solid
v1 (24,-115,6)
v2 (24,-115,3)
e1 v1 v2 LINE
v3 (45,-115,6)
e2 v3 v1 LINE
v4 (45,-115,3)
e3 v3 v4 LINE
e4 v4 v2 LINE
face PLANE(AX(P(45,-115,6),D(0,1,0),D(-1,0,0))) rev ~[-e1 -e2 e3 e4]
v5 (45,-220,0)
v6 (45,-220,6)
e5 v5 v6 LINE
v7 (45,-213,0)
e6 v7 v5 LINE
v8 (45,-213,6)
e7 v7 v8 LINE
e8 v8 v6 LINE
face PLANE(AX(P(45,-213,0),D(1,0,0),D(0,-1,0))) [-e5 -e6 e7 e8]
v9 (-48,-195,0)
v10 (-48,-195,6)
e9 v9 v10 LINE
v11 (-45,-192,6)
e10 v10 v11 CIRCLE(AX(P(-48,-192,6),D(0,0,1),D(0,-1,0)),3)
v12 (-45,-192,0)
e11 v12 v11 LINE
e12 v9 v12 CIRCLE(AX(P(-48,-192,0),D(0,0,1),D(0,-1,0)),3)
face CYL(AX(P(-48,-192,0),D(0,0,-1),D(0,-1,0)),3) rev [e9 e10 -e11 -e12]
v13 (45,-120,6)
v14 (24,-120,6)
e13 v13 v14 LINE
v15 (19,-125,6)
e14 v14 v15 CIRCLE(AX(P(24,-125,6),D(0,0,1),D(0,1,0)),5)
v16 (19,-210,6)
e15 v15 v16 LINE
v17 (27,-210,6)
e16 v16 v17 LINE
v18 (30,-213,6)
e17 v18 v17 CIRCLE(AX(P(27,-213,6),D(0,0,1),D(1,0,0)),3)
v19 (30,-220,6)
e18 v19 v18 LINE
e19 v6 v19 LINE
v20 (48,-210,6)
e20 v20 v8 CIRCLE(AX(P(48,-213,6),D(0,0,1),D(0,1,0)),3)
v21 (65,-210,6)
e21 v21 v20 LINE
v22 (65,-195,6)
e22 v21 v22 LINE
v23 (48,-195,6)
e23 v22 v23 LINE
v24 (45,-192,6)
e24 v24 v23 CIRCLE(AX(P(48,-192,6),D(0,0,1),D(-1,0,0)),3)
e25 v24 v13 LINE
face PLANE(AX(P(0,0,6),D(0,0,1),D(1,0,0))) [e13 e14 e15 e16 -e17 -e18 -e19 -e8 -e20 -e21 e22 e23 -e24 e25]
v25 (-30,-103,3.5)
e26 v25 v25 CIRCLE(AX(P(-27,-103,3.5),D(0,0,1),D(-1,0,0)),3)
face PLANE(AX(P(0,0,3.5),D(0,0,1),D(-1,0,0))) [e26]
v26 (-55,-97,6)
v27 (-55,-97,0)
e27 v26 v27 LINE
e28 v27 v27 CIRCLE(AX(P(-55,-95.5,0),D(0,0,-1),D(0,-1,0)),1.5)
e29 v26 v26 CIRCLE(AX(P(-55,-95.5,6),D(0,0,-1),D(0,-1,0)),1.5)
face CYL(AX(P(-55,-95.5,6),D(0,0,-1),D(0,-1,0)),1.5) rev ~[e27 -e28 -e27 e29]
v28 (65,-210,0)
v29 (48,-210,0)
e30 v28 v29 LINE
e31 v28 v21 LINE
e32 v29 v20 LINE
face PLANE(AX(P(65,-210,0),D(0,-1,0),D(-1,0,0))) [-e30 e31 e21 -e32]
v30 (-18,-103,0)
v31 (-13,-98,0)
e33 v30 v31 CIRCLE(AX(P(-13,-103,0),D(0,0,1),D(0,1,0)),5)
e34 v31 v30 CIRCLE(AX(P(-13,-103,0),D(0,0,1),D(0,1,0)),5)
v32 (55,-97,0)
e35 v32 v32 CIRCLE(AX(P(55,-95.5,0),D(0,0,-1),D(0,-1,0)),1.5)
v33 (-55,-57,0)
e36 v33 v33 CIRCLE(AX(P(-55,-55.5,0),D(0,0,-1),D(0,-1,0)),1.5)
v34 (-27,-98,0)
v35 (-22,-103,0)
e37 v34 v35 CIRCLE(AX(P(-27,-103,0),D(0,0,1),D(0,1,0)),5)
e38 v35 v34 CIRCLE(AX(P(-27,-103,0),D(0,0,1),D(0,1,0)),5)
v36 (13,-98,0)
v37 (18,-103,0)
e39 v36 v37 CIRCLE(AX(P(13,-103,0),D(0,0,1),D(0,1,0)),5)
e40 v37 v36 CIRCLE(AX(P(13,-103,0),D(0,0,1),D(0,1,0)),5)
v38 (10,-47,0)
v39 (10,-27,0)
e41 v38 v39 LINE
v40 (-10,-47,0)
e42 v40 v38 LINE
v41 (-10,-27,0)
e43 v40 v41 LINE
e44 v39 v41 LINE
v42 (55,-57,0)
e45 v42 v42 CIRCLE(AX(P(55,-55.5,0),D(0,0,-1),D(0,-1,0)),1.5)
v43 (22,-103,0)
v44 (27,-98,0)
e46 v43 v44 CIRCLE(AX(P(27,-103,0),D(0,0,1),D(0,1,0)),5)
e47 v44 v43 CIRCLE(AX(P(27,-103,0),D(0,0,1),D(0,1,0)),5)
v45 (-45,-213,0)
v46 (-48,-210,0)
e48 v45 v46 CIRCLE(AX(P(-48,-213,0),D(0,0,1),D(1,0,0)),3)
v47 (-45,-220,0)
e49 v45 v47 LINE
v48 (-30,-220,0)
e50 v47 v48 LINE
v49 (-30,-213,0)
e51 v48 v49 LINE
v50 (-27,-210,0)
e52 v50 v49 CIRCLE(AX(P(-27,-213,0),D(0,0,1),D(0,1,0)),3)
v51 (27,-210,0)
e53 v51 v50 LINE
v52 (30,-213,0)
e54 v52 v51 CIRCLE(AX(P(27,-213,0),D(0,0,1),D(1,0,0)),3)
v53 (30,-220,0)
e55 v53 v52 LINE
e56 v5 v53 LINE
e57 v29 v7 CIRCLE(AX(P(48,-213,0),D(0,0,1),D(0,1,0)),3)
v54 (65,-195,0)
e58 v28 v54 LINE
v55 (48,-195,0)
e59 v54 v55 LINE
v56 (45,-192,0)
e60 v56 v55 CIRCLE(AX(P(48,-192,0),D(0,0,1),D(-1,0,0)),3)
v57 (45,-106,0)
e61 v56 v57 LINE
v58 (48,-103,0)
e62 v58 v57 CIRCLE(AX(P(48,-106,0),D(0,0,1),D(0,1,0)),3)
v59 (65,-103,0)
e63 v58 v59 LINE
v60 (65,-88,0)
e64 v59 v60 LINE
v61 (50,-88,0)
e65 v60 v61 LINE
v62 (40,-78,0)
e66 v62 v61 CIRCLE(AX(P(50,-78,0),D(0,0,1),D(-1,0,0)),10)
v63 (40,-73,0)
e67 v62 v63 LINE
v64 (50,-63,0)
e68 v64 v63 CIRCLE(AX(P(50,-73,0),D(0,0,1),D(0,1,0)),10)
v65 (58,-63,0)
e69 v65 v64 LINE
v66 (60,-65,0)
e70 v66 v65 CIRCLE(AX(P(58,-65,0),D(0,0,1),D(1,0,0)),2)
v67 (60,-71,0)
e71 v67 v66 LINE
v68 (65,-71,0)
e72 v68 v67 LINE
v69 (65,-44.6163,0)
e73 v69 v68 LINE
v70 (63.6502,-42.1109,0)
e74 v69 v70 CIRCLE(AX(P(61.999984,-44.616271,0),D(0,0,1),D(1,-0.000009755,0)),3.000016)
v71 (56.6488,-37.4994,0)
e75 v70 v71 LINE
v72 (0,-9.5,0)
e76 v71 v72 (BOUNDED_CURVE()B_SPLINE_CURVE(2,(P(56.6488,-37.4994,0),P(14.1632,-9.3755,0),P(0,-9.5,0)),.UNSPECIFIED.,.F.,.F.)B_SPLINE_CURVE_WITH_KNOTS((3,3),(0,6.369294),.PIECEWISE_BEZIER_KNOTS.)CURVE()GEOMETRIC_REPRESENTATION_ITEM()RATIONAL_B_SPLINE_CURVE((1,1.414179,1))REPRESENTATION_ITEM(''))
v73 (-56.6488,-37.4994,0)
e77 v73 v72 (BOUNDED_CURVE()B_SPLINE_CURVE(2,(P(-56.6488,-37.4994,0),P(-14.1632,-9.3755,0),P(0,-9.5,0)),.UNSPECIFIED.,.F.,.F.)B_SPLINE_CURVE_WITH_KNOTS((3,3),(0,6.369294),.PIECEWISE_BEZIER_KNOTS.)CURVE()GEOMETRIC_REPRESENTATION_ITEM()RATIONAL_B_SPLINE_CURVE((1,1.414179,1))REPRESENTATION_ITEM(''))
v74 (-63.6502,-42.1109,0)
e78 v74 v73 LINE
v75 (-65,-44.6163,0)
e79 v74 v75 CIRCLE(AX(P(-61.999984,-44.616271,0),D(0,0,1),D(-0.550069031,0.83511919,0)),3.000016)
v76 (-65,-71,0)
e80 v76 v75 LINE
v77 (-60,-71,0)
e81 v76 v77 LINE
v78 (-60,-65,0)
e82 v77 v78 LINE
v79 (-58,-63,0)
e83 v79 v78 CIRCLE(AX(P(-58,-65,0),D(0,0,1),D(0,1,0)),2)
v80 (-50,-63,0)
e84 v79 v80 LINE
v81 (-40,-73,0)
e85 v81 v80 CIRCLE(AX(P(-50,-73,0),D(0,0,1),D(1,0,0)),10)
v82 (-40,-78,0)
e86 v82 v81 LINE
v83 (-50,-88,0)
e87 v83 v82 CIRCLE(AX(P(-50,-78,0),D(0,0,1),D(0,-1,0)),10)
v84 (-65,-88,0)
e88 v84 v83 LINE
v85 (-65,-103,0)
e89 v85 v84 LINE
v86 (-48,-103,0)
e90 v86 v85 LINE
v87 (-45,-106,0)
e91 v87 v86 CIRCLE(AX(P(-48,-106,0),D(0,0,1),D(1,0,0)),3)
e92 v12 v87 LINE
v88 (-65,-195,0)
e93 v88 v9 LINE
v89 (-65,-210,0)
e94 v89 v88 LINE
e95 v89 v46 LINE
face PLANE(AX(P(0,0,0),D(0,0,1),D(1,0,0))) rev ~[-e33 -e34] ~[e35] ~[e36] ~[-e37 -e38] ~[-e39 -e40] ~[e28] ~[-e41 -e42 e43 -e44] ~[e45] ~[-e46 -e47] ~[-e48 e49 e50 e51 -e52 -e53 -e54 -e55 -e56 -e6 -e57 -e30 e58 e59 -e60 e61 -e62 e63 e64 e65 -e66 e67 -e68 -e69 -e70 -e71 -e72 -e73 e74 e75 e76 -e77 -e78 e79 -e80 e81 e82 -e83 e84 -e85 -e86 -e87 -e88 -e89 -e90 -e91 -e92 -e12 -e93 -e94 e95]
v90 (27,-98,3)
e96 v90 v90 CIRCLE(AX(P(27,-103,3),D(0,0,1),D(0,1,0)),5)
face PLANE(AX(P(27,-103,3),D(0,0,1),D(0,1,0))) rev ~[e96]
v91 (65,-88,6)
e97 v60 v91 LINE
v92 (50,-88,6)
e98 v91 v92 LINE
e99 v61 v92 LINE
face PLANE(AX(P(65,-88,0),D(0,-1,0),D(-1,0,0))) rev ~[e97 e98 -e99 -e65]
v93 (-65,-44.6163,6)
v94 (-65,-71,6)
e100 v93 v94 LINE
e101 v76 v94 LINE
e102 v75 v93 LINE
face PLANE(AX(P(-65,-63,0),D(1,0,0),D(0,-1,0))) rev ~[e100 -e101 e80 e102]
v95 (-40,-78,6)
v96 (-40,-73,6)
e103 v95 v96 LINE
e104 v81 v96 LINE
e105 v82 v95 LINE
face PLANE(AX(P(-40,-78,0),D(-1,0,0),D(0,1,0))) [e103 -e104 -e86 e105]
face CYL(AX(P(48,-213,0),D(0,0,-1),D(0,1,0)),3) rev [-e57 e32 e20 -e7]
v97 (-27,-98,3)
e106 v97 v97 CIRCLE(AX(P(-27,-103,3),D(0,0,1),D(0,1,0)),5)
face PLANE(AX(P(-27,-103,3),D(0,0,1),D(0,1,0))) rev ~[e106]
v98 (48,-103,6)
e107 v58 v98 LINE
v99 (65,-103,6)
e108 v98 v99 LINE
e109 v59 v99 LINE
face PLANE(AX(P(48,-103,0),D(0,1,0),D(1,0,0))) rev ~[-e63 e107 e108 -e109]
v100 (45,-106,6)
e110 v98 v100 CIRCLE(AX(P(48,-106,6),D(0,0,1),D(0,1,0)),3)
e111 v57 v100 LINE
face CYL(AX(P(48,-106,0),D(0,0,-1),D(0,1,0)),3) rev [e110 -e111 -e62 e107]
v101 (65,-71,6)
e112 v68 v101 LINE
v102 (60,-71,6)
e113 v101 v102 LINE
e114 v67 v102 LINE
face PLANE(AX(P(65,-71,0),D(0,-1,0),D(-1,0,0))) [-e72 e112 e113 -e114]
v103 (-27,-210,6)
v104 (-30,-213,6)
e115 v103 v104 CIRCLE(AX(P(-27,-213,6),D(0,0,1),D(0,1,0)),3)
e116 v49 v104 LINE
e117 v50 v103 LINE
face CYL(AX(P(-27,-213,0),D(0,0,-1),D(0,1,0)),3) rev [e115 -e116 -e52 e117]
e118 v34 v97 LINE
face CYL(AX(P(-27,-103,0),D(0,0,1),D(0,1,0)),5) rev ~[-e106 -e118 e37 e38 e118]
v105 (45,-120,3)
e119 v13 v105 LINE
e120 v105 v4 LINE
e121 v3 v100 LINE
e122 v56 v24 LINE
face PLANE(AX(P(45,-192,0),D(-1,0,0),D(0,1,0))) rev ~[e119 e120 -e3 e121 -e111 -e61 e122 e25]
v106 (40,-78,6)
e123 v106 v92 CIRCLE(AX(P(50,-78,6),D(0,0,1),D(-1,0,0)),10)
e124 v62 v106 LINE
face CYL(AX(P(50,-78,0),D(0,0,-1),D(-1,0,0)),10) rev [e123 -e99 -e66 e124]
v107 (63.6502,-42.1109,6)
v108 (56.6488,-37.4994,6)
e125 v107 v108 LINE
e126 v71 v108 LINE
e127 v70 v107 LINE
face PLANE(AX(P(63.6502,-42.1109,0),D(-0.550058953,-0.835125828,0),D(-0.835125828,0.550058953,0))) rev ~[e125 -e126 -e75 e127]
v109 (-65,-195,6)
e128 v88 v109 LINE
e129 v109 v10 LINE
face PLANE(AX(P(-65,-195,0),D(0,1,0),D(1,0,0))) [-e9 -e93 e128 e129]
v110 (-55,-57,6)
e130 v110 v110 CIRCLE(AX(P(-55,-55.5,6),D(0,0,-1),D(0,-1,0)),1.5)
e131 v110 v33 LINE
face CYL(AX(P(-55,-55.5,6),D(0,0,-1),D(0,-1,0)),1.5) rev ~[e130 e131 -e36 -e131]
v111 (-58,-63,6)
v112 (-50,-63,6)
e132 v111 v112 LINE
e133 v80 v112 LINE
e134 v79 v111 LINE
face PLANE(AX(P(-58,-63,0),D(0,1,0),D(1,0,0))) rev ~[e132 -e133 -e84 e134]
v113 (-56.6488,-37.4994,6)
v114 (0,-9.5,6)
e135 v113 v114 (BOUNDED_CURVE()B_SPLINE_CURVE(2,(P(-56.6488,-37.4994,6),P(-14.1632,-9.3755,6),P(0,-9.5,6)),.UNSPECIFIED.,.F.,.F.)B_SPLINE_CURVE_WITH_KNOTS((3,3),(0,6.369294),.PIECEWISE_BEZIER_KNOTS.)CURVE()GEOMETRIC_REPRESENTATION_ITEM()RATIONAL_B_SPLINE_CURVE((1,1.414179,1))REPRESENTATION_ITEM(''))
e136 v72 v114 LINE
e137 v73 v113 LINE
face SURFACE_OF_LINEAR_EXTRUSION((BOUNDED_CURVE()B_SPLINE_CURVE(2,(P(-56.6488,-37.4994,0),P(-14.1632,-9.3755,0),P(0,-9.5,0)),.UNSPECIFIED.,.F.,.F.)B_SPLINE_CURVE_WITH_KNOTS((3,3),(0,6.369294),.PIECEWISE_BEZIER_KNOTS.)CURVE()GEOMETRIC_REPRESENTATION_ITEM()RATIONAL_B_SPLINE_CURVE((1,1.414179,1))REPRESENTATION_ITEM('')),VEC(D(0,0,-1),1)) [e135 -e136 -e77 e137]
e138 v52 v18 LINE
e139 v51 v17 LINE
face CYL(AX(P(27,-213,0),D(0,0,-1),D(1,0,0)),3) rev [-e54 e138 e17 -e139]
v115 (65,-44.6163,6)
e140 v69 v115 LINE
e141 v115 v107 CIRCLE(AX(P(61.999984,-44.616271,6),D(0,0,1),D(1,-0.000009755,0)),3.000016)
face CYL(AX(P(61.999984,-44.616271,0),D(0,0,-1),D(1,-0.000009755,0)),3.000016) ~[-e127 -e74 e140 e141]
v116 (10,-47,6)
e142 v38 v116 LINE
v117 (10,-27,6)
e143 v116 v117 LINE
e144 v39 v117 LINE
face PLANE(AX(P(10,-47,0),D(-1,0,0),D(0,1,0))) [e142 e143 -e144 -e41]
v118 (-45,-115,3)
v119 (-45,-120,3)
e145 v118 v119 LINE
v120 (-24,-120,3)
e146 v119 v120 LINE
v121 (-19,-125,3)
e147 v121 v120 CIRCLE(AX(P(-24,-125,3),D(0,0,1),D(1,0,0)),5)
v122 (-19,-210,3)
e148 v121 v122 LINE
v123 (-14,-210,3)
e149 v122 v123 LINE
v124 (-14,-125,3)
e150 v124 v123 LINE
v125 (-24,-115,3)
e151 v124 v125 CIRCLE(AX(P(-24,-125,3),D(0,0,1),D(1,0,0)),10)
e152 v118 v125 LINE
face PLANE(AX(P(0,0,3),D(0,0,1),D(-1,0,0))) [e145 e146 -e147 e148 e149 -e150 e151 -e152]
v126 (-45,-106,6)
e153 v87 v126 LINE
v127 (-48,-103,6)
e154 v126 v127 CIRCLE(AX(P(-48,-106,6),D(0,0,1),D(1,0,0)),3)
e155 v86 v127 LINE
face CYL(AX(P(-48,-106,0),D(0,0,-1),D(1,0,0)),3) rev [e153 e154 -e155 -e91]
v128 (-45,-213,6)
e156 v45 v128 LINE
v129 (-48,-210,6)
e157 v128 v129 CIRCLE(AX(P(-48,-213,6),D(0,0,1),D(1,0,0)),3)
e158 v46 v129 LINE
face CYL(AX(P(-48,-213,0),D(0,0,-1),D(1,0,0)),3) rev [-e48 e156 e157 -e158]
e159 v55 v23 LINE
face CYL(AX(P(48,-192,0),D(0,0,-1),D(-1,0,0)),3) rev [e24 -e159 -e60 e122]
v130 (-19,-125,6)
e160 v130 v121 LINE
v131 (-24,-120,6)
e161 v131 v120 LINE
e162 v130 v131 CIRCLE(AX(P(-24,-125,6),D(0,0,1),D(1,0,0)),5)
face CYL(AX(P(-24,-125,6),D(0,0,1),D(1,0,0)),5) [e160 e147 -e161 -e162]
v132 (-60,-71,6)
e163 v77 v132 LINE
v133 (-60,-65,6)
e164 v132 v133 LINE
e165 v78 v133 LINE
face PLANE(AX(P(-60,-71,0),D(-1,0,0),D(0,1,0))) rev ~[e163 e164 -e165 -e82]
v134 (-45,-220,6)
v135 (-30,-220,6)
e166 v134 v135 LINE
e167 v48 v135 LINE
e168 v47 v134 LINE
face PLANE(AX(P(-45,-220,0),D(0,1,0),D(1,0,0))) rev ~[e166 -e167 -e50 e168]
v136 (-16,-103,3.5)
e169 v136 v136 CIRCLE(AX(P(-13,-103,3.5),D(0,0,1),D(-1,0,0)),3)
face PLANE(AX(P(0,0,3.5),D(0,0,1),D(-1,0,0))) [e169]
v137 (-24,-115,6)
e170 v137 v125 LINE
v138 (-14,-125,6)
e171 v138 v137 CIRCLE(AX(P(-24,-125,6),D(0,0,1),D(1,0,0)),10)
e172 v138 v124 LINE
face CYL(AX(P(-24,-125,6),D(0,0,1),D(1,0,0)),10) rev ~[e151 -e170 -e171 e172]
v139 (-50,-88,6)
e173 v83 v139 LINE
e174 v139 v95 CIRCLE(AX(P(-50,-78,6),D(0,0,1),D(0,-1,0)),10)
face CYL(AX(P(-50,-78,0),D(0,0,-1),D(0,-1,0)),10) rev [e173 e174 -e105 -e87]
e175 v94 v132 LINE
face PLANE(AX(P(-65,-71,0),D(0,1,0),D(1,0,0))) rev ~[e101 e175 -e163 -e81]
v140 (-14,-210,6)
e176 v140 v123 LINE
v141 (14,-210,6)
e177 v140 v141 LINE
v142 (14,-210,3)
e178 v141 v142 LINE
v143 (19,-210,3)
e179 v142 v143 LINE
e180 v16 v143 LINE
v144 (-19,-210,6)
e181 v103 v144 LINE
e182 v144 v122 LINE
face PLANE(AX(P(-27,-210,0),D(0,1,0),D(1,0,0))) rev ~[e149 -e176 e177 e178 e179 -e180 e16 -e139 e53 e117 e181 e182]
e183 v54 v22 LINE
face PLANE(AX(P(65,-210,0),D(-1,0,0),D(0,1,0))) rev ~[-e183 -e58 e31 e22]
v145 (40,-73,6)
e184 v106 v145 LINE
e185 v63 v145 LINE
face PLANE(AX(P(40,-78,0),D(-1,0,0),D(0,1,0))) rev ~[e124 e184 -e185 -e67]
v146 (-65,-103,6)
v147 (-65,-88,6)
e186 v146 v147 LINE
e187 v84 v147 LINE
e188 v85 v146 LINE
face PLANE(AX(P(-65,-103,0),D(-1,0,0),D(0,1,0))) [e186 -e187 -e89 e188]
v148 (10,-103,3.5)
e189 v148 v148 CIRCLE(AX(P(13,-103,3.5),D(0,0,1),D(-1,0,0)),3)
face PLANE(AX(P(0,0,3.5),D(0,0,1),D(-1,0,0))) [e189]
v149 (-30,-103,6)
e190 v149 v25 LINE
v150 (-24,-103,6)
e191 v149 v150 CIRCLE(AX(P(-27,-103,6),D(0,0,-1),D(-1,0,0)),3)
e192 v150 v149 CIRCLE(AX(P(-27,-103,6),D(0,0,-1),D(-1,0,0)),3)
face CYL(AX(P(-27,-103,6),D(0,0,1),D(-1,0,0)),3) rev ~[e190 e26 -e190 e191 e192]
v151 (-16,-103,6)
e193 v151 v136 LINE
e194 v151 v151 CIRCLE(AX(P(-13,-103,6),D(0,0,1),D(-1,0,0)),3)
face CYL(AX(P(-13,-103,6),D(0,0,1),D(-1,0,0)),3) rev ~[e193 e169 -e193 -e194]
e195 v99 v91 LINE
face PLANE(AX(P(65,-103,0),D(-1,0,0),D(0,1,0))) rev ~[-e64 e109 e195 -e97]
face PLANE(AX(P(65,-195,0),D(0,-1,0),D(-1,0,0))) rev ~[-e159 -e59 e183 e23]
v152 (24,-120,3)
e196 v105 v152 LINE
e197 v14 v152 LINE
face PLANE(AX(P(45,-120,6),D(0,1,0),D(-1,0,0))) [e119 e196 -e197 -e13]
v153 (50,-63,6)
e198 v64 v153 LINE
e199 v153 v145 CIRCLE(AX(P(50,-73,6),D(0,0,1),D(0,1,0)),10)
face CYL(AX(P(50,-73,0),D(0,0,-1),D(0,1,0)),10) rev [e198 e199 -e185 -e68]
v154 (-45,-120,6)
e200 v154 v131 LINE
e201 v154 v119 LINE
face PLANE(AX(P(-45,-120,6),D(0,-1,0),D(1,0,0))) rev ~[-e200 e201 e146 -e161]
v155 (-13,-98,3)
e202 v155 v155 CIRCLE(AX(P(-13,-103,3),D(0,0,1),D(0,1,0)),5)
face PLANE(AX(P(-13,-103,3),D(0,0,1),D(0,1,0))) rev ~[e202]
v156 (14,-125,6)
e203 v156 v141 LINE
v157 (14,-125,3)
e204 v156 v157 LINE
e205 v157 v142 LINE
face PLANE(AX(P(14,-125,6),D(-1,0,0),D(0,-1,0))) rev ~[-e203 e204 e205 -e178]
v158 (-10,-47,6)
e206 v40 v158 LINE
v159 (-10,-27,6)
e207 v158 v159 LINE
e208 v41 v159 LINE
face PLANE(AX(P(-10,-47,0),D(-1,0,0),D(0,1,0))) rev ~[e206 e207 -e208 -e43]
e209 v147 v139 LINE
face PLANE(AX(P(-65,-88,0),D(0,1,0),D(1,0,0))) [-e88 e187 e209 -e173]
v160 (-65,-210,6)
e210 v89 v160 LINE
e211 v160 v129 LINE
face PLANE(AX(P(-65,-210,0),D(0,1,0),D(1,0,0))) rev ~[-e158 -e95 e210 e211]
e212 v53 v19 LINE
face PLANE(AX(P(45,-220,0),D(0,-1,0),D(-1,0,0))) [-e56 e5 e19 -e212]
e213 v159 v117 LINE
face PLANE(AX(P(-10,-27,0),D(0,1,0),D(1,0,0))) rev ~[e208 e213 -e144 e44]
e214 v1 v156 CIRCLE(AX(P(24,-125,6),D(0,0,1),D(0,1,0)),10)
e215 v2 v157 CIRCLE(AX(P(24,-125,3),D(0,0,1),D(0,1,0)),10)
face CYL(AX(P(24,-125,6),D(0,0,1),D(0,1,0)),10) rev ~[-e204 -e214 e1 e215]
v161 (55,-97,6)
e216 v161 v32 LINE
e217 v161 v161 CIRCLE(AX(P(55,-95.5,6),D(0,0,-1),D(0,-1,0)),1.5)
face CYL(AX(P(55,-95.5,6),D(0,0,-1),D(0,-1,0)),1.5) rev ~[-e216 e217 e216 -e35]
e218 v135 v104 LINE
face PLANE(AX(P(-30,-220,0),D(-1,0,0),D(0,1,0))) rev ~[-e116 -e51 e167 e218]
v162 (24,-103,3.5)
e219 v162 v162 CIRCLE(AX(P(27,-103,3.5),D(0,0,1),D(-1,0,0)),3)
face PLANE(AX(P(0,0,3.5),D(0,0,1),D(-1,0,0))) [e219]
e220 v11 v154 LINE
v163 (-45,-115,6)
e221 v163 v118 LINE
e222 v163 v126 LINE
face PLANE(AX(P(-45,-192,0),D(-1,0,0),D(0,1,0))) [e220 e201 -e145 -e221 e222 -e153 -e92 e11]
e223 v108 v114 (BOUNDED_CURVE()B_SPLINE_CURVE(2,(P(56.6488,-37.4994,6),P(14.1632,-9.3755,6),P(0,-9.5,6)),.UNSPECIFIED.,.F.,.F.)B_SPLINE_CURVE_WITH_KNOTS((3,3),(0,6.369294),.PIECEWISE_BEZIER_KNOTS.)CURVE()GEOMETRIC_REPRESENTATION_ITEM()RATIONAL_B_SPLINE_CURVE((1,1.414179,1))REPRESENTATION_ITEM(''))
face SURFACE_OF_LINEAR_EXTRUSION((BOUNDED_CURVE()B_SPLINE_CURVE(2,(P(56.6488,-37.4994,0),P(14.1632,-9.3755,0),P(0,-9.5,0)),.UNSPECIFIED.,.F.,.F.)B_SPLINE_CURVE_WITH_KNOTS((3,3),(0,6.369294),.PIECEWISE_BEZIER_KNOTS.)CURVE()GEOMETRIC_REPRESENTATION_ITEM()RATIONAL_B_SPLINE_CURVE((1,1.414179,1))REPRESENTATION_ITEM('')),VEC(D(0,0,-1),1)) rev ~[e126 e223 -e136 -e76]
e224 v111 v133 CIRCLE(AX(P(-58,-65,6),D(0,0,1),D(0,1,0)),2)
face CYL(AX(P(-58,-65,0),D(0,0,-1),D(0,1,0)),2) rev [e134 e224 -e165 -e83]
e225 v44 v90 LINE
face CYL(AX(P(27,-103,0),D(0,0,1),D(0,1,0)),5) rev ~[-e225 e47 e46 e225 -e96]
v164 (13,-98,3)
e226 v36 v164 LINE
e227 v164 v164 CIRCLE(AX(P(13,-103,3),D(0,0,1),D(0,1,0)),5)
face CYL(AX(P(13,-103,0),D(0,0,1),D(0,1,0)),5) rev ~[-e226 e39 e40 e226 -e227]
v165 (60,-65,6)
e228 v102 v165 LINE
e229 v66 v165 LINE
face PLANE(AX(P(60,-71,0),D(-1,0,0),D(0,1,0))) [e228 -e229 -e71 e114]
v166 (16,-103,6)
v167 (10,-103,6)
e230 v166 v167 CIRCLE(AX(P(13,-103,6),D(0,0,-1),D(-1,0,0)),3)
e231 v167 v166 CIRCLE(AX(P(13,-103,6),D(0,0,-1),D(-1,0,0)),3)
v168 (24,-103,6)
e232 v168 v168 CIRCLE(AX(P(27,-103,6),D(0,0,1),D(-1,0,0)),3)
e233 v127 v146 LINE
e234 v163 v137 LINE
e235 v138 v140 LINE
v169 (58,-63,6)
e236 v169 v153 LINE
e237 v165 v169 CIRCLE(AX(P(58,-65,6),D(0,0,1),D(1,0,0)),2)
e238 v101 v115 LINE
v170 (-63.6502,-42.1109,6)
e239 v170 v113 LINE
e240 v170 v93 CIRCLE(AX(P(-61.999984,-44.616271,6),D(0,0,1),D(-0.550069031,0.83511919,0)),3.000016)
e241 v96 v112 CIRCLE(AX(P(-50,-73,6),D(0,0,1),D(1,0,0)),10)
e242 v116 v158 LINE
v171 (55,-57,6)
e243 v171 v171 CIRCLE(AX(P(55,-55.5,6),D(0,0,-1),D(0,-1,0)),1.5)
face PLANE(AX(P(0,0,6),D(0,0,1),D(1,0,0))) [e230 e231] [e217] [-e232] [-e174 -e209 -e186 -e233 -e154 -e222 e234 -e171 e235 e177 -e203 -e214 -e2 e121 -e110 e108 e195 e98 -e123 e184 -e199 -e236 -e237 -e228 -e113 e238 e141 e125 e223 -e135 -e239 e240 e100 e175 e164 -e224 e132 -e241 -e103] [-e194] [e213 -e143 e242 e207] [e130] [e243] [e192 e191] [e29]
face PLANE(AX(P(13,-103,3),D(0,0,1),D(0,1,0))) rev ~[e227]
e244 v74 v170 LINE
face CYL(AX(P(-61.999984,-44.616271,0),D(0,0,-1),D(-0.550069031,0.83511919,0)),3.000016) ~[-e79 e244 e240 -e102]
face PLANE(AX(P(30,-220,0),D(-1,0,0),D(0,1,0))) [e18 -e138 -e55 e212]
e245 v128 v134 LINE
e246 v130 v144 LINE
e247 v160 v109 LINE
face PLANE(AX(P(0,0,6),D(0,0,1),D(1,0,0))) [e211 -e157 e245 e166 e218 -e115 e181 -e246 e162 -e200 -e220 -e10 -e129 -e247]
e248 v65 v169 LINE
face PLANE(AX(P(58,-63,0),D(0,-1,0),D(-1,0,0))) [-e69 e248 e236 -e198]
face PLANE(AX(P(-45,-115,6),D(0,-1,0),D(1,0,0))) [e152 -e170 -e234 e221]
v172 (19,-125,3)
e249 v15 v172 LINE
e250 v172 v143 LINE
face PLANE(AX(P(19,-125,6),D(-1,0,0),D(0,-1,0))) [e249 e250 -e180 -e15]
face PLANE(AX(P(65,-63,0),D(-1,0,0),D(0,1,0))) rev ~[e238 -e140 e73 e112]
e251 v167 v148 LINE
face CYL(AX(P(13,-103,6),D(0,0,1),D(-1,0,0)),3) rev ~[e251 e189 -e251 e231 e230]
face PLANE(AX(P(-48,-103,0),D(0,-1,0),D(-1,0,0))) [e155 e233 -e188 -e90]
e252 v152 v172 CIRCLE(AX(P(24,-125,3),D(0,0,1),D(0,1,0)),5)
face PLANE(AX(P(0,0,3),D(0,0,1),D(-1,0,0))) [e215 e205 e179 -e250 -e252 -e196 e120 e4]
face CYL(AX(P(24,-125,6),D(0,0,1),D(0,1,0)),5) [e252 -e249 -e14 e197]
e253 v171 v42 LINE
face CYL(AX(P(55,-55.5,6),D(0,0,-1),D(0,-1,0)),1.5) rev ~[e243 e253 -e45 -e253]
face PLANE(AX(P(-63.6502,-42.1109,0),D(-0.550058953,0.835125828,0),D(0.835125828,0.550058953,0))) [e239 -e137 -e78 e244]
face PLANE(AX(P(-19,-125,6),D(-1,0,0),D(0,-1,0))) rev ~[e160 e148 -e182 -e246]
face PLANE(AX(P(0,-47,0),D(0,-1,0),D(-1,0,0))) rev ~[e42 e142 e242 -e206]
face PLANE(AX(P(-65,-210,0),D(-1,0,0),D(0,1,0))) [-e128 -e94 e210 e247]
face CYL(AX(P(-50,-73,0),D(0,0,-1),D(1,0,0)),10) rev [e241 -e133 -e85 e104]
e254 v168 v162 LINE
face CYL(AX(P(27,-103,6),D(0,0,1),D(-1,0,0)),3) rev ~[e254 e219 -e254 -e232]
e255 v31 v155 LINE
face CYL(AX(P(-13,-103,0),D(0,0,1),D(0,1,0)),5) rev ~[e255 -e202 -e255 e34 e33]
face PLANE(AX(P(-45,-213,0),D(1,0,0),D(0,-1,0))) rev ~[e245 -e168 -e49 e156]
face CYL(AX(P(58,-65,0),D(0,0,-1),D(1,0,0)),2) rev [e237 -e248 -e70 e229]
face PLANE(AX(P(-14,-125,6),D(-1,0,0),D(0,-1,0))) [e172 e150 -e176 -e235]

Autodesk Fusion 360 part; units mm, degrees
sketch "Sketch1" plane through (0, 0, 0) normal (0, 0, 1) x (1, 0, 0)
  line L0 (-65, -210) -> (-48, -210)
  line L1 (-45, -213) -> (-45, -220)
  line L2 (-45, -220) -> (-30, -220)
  line L3 (-30, -220) -> (-30, -213)
  line L4 (-27, -210) -> (0, -210)
  arc A0 (-45, -213) -> (-48, -210) centre (-48, -213) ccw
  arc A1 (-27, -210) -> (-30, -213) centre (-27, -213) ccw
  line L5 (-65, -210) -> (-65, -195)
  line L6 (-65, -195) -> (-48, -195)
  line L7 (-45, -192) -> (-45, -106)
  line L8 (-48, -103) -> (-65, -103)
  line L9 (-65, -103) -> (-65, -88)
  line L10 (-65, -88) -> (-50, -88)
  line L11 (-40, -78) -> (-40, -73)
  line L12 (-65, -63) -> (-65, -44.6163)
  arc A2 (-50, -88) -> (-40, -78) centre (-50, -78) ccw
  arc A3 (-40, -73) -> (-50, -63) centre (-50, -73) ccw
  arc A4 (-48, -195) -> (-45, -192) centre (-48, -192) ccw
  arc A5 (-45, -106) -> (-48, -103) centre (-48, -106) ccw
  line L13 (-65, -63) -> (-65, -71)
  line L14 (-65, -71) -> (-60, -71)
  line L15 (-60, -71) -> (-60, -65)
  line L16 (-58, -63) -> (-50, -63)
  arc A6 (-58, -63) -> (-60, -65) centre (-58, -65) ccw
  line L17 (-63.6502, -42.1109) -> (-56.6488, -37.4994)
  arc A7 (-63.6502, -42.1109) -> (-65, -44.6163) centre (-62, -44.6163) ccw
  line L18 (0, 0) -> (0, -252.3978) construction
  spline S0 degree 2 poles (-56.6488, -37.4994) (-14.1632, -9.3755) (0, -9.5) knots 0 0 0 6.369294 6.369294 6.369294 weights 1 1.414179 1
  line L19 (-10, -27) -> (0, -27)
  line L20 (0, -47) -> (-10, -47)
  line L21 (-10, -47) -> (-10, -27)
  circle A8 centre (-13, -103) radius 3
  circle A9 centre (-27, -103) radius 3
  line L22 (-13, -103) -> (-27, -103)
  line L23 (45, -220) -> (30, -220)
  line L24 (63.6502, -42.1109) -> (56.6488, -37.4994)
  line L25 (65, -210) -> (48, -210)
  line L26 (45, -192) -> (45, -106)
  line L27 (58, -63) -> (50, -63)
  line L28 (65, -88) -> (50, -88)
  line L29 (0, -47) -> (10, -47)
  line L30 (65, -71) -> (60, -71)
  arc A10 (48, -210) -> (45, -213) centre (48, -213) ccw
  line L31 (48, -103) -> (65, -103)
  arc A11 (50, -63) -> (40, -73) centre (50, -73) ccw
  line L32 (10, -27) -> (0, -27)
  line L33 (65, -63) -> (65, -71)
  line L34 (40, -78) -> (40, -73)
  arc A12 (60, -65) -> (58, -63) centre (58, -65) ccw
  line L35 (60, -71) -> (60, -65)
  spline S1 degree 2 poles (56.6488, -37.4994) (14.1632, -9.3755) (0, -9.5) knots 0 0 0 6.369294 6.369294 6.369294 weights 1 1.414179 1
  line L36 (65, -63) -> (65, -44.6163)
  circle A13 centre (27, -103) radius 3
  arc A14 (30, -213) -> (27, -210) centre (27, -213) ccw
  line L37 (13, -103) -> (27, -103)
  arc A15 (65, -44.6163) -> (63.6502, -42.1109) centre (62, -44.6163) ccw
  arc A16 (45, -192) -> (48, -195) centre (48, -192) ccw
  line L38 (65, -103) -> (65, -88)
  line L39 (30, -220) -> (30, -213)
  arc A17 (40, -78) -> (50, -88) centre (50, -78) ccw
  line L40 (27, -210) -> (0, -210)
  line L41 (10, -47) -> (10, -27)
  line L42 (45, -213) -> (45, -220)
  arc A18 (48, -103) -> (45, -106) centre (48, -106) ccw
  line L43 (65, -195) -> (48, -195)
  line L44 (65, -210) -> (65, -195)
  circle A19 centre (13, -103) radius 3
  point P0 (-45, -210)
  point P1 (-30, -210)
  point P2 (-45, -195)
  point P3 (-45, -103)
  point P4 (-40, -88)
  point P5 (-40, -63)
  point P6 (40, -63)
  point P7 (45, -103)
  point P8 (30, -210)
  point P9 (45, -195)
  point P10 (40, -88)
  point P11 (45, -210)
  dimension "d1" = 20
  dimension "d3" = 15
  dimension "d7" = 3
  dimension "d8" = 3
  dimension "d13" = 20
  dimension "d15" = 92
  dimension "d16" = 15
  dimension "d17" = 25
  dimension "d18" = 25
  dimension "d24" = 10
  dimension "d25" = 10
  dimension "d28" = 3
  dimension "d29" = 3
  dimension "d32" = 5
  dimension "d33" = 2
  dimension "d38" = 3
  dimension "d542" = 10
  dimension "d543" = 9.5
  dimension "d544" = 27
  dimension "d545" = 20
  dimension "d546" = 65
  dimension "d547" = 10
  dimension "d548" = 210
  dimension "d549" = 15
  dimension "d550" = 65
  dimension "d551" = 17
  dimension "d552" = 8
  dimension "d553" = 6
  dimension "d554" = 6
  dimension "d555" = 13
  dimension "d556" = 14
extrude "Extrude8" add sketch "Sketch1" along normal blind 6 contours L0 L1 L2 L3 L4 A0 A1 L5 L6 L7 L8 L9 L10 L11 L12 A2 A3 A4 A5 L13 L14 L15 L16 A6 L17 A7 S0 L23 L24 L25 L26 L27 L28 L30 A10 L31 A11 L33 L34 A12 L35 S1 L36 A14 A15 A16 L38 L39 A17 L40 L42 A18 L43 L44 | A8 | A9 | A13 | A19
sketch "Sketch7" plane through (0, 0, 6) normal (0, 0, 1) x (-1, 0, 0)
  line L0 (-10, 47) -> (10, 47)
  line L1 (10, 47) -> (10, 27)
  line L2 (10, 27) -> (-10, 27)
  line L3 (-10, 27) -> (-10, 47)
  line L4 (-48, 210) -> (-65, 210)
  line L5 (-65, 210) -> (-65, 195)
  line L6 (-65, 195) -> (-48, 195)
  arc A0 (-45, 192) -> (-48, 195) centre (-48, 192) ccw
  line L7 (-45, 192) -> (-45, 106)
  arc A1 (-48, 103) -> (-45, 106) centre (-48, 106) ccw
  line L8 (-48, 103) -> (-65, 103)
  line L9 (-65, 103) -> (-65, 88)
  line L10 (-65, 88) -> (-50, 88)
  arc A2 (-40, 78) -> (-50, 88) centre (-50, 78) ccw
  line L11 (-40, 78) -> (-40, 73)
  arc A3 (-50, 63) -> (-40, 73) centre (-50, 73) ccw
  line L12 (-50, 63) -> (-58, 63)
  arc A4 (-60, 65) -> (-58, 63) centre (-58, 65) ccw
  line L13 (-60, 65) -> (-60, 71)
  line L14 (-60, 71) -> (-65, 71)
  line L15 (-65, 71) -> (-65, 44.6163)
  arc A5 (-65, 44.6163) -> (-63.6502, 42.1109) centre (-62, 44.6163) ccw
  line L16 (-63.6502, 42.1109) -> (-56.6488, 37.4994)
  spline S0 degree 2 poles (-56.6488, 37.4994) (-14.1632, 9.3755) (0, 9.5) knots 0 0 0 6.369294 6.369294 6.369294 weights 1 1.414179 1
  spline S1 degree 2 poles (0, 9.5) (14.1632, 9.3755) (56.6488, 37.4994) knots -6.369294 -6.369294 -6.369294 0 0 0 weights 1 1.414179 1
  line L17 (56.6488, 37.4994) -> (63.6502, 42.1109)
  arc A6 (63.6502, 42.1109) -> (65, 44.6163) centre (62, 44.6163) ccw
  line L18 (65, 44.6163) -> (65, 71)
  line L19 (65, 71) -> (60, 71)
  line L20 (60, 71) -> (60, 65)
  arc A7 (58, 63) -> (60, 65) centre (58, 65) ccw
  line L21 (58, 63) -> (50, 63)
  arc A8 (40, 73) -> (50, 63) centre (50, 73) ccw
  line L22 (40, 73) -> (40, 78)
  arc A9 (50, 88) -> (40, 78) centre (50, 78) ccw
  line L23 (50, 88) -> (65, 88)
  line L24 (65, 88) -> (65, 103)
  line L25 (65, 103) -> (48, 103)
  arc A10 (45, 106) -> (48, 103) centre (48, 106) ccw
  line L26 (45, 106) -> (45, 192)
  arc A11 (48, 195) -> (45, 192) centre (48, 192) ccw
  line L27 (48, 195) -> (65, 195)
  line L28 (65, 195) -> (65, 210)
  line L29 (65, 210) -> (48, 210)
  arc A12 (45, 213) -> (48, 210) centre (48, 213) ccw
  line L30 (45, 213) -> (45, 220)
  line L31 (45, 220) -> (30, 220)
  line L32 (30, 220) -> (30, 213)
  arc A13 (27, 210) -> (30, 213) centre (27, 213) ccw
  line L33 (27, 210) -> (-27, 210)
  arc A14 (-30, 213) -> (-27, 210) centre (-27, 213) ccw
  line L34 (-30, 213) -> (-30, 220)
  line L35 (-30, 220) -> (-45, 220)
  line L36 (-45, 220) -> (-45, 213)
  arc A15 (-48, 210) -> (-45, 213) centre (-48, 213) ccw
  circle A16 centre (27, 103) radius 3
  circle A17 centre (13, 103) radius 3
  circle A18 centre (-13, 103) radius 3
  circle A19 centre (-27, 103) radius 3
  line L37 (0, 0) -> (0, 252.3978)
  line L38 (-13, 103) -> (-27, 103)
  line L39 (13, 103) -> (27, 103)
  point P0 (27, 103)
  point P1 (13, 103)
  point P2 (-13, 103)
  point P3 (-27, 103)
hole "Hole1" at (-27, -103, 0) at (-13, -103, 0) at (13, -103, 0) at (27, -103, 0) direction (0, 0, 1) diameter 10 depth 3 tip angle 180
extrude "Extrude9" cut sketch "Sketch7" against normal blind 2.5 contours A16 | A17 | A18 | A19
sketch "Sketch8" plane through (0, 0, 6) normal (0, 0, 1) x (-1, 0, 0)
  circle A0 centre (13, 103) radius 3
  circle A1 centre (-13, 103) radius 3
  circle A2 centre (27, 103) radius 3
  circle A3 centre (-27, 103) radius 3
  line L0 (-10, 47) -> (10, 47)
  line L1 (10, 47) -> (10, 27)
  line L2 (10, 27) -> (-10, 27)
  line L3 (-10, 27) -> (-10, 47)
  line L4 (-48, 210) -> (-65, 210)
  line L5 (-65, 210) -> (-65, 195)
  line L6 (-65, 195) -> (-48, 195)
  arc A4 (-45, 192) -> (-48, 195) centre (-48, 192) ccw
  line L7 (-45, 192) -> (-45, 106)
  arc A5 (-48, 103) -> (-45, 106) centre (-48, 106) ccw
  line L8 (-48, 103) -> (-65, 103)
  line L9 (-65, 103) -> (-65, 88)
  line L10 (-65, 88) -> (-50, 88)
  arc A6 (-40, 78) -> (-50, 88) centre (-50, 78) ccw
  line L11 (-40, 78) -> (-40, 73)
  arc A7 (-50, 63) -> (-40, 73) centre (-50, 73) ccw
  line L12 (-50, 63) -> (-58, 63)
  arc A8 (-60, 65) -> (-58, 63) centre (-58, 65) ccw
  line L13 (-60, 65) -> (-60, 71)
  line L14 (-60, 71) -> (-65, 71)
  line L15 (-65, 71) -> (-65, 44.6163)
  arc A9 (-65, 44.6163) -> (-63.6502, 42.1109) centre (-62, 44.6163) ccw
  line L16 (-63.6502, 42.1109) -> (-56.6488, 37.4994)
  spline S0 degree 2 poles (-56.6488, 37.4994) (-14.1632, 9.3755) (0, 9.5) knots 0 0 0 6.369294 6.369294 6.369294 weights 1 1.414179 1
  spline S1 degree 2 poles (0, 9.5) (14.1632, 9.3755) (56.6488, 37.4994) knots -6.369294 -6.369294 -6.369294 0 0 0 weights 1 1.414179 1
  line L17 (56.6488, 37.4994) -> (63.6502, 42.1109)
  arc A10 (63.6502, 42.1109) -> (65, 44.6163) centre (62, 44.6163) ccw
  line L18 (65, 44.6163) -> (65, 71)
  line L19 (65, 71) -> (60, 71)
  line L20 (60, 71) -> (60, 65)
  arc A11 (58, 63) -> (60, 65) centre (58, 65) ccw
  line L21 (58, 63) -> (50, 63)
  arc A12 (40, 73) -> (50, 63) centre (50, 73) ccw
  line L22 (40, 73) -> (40, 78)
  arc A13 (50, 88) -> (40, 78) centre (50, 78) ccw
  line L23 (50, 88) -> (65, 88)
  line L24 (65, 88) -> (65, 103)
  line L25 (65, 103) -> (48, 103)
  arc A14 (45, 106) -> (48, 103) centre (48, 106) ccw
  line L26 (45, 106) -> (45, 192)
  arc A15 (48, 195) -> (45, 192) centre (48, 192) ccw
  line L27 (48, 195) -> (65, 195)
  line L28 (65, 195) -> (65, 210)
  line L29 (65, 210) -> (48, 210)
  arc A16 (45, 213) -> (48, 210) centre (48, 213) ccw
  line L30 (45, 213) -> (45, 220)
  line L31 (45, 220) -> (30, 220)
  line L32 (30, 220) -> (30, 213)
  arc A17 (27, 210) -> (30, 213) centre (27, 213) ccw
  line L33 (27, 210) -> (-27, 210)
  arc A18 (-30, 213) -> (-27, 210) centre (-27, 213) ccw
  line L34 (-30, 213) -> (-30, 220)
  line L35 (-30, 220) -> (-45, 220)
  line L36 (-45, 220) -> (-45, 213)
  arc A19 (-48, 210) -> (-45, 213) centre (-48, 213) ccw
  line L37 (0, 0) -> (0, 252.3978)
  line L38 (45, 192) -> (45, 106)
  line L39 (27, 210) -> (0, 210)
  line L40 (45, 115) -> (24, 115)
  line L41 (11.7685, 115) -> (11.7685, 119.6256)
  line L42 (18, 111.5381) -> (14, 111.5381)
  line L43 (14, 125) -> (14, 210)
  arc A20 (14, 125) -> (24, 115) centre (24, 125) ccw
  line L44 (45, 120) -> (24, 120)
  arc A21 (19, 125) -> (24, 120) centre (24, 125) ccw
  line L45 (19, 125) -> (19, 210)
  line L46 (45, 115) -> (45, 120)
  line L47 (14, 210) -> (19, 210)
  line L48 (-18, 111.5381) -> (-14, 111.5381)
  line L49 (-14, 125) -> (-14, 210)
  line L50 (-11.7685, 115) -> (-11.7685, 119.6256)
  line L51 (-45, 115) -> (-24, 115)
  line L52 (-45, 120) -> (-24, 120)
  arc A22 (-24, 120) -> (-19, 125) centre (-24, 125) ccw
  arc A23 (-24, 115) -> (-14, 125) centre (-24, 125) ccw
  line L53 (-19, 125) -> (-19, 210)
  line L54 (-45, 115) -> (-45, 120)
  line L55 (-14, 210) -> (-19, 210)
  dimension "d564" = 14
  dimension "d567" = 10
  dimension "d568" = 95
  dimension "d569" = 5
extrude "Extrude10" cut sketch "Sketch8" against normal blind 3 contours L26 L33 L38 L39 L40 L43 A20 L44 A21 L45 L46 L47 | L7 L33 L49 L51 L52 A22 A23 L53 L54 L55
sketch "Sketch9" plane through (0, 0, 6) normal (0, 0, 1) x (-1, 0, 0)
  line L0 (45, 115) -> (24, 115)
  arc A0 (14, 125) -> (24, 115) centre (24, 125) ccw
  line L1 (14, 125) -> (14, 210)
  line L2 (14, 210) -> (-14, 210)
  line L3 (-14, 210) -> (-14, 125)
  arc A1 (-24, 115) -> (-14, 125) centre (-24, 125) ccw
  line L4 (-24, 115) -> (-45, 115)
  line L5 (-45, 115) -> (-45, 106)
  arc A2 (-48, 103) -> (-45, 106) centre (-48, 106) ccw
  line L6 (-48, 103) -> (-65, 103)
  line L7 (-65, 103) -> (-65, 88)
  line L8 (-65, 88) -> (-50, 88)
  arc A3 (-40, 78) -> (-50, 88) centre (-50, 78) ccw
  line L9 (-40, 78) -> (-40, 73)
  arc A4 (-50, 63) -> (-40, 73) centre (-50, 73) ccw
  line L10 (-50, 63) -> (-58, 63)
  arc A5 (-60, 65) -> (-58, 63) centre (-58, 65) ccw
  line L11 (-60, 65) -> (-60, 71)
  line L12 (-60, 71) -> (-65, 71)
  line L13 (-65, 71) -> (-65, 44.6163)
  arc A6 (-65, 44.6163) -> (-63.6502, 42.1109) centre (-62, 44.6163) ccw
  line L14 (-63.6502, 42.1109) -> (-56.6488, 37.4994)
  spline S0 degree 2 poles (-56.6488, 37.4994) (-14.1632, 9.3755) (0, 9.5) knots 0 0 0 6.369294 6.369294 6.369294 weights 1 1.414179 1
  spline S1 degree 2 poles (0, 9.5) (14.1632, 9.3755) (56.6488, 37.4994) knots -6.369294 -6.369294 -6.369294 0 0 0 weights 1 1.414179 1
  line L15 (56.6488, 37.4994) -> (63.6502, 42.1109)
  arc A7 (63.6502, 42.1109) -> (65, 44.6163) centre (62, 44.6163) ccw
  line L16 (65, 44.6163) -> (65, 71)
  line L17 (65, 71) -> (60, 71)
  line L18 (60, 71) -> (60, 65)
  arc A8 (58, 63) -> (60, 65) centre (58, 65) ccw
  line L19 (58, 63) -> (50, 63)
  arc A9 (40, 73) -> (50, 63) centre (50, 73) ccw
  line L20 (40, 73) -> (40, 78)
  arc A10 (50, 88) -> (40, 78) centre (50, 78) ccw
  line L21 (50, 88) -> (65, 88)
  line L22 (65, 88) -> (65, 103)
  line L23 (65, 103) -> (48, 103)
  arc A11 (45, 106) -> (48, 103) centre (48, 106) ccw
  line L24 (45, 106) -> (45, 115)
  line L25 (-10, 47) -> (10, 47)
  line L26 (10, 47) -> (10, 27)
  line L27 (10, 27) -> (-10, 27)
  line L28 (-10, 27) -> (-10, 47)
  circle A12 centre (-27, 103) radius 3
  circle A13 centre (27, 103) radius 3
  circle A14 centre (-13, 103) radius 3
  circle A15 centre (13, 103) radius 3
  line L29 (74.2747, 95.5) -> (35.7253, 95.5)
  circle A16 centre (55, 95.5) radius 1
  line L30 (40, 75.5) -> (74.2747, 75.5)
  circle A17 centre (55, 55.5) radius 1
  line L31 (0, 0) -> (0, 252.3978)
  point P0 (-55, 55.5)
  point P1 (-55, 95.5)
  dimension "d572" = 2
  dimension "d573" = 10
hole "Hole2" at (55, -55.5, 6) at (55, -95.5, 6) at (-55, -95.5, 6) at (-55, -55.5, 6) direction (0, 0, -1) diameter 3 end through all
